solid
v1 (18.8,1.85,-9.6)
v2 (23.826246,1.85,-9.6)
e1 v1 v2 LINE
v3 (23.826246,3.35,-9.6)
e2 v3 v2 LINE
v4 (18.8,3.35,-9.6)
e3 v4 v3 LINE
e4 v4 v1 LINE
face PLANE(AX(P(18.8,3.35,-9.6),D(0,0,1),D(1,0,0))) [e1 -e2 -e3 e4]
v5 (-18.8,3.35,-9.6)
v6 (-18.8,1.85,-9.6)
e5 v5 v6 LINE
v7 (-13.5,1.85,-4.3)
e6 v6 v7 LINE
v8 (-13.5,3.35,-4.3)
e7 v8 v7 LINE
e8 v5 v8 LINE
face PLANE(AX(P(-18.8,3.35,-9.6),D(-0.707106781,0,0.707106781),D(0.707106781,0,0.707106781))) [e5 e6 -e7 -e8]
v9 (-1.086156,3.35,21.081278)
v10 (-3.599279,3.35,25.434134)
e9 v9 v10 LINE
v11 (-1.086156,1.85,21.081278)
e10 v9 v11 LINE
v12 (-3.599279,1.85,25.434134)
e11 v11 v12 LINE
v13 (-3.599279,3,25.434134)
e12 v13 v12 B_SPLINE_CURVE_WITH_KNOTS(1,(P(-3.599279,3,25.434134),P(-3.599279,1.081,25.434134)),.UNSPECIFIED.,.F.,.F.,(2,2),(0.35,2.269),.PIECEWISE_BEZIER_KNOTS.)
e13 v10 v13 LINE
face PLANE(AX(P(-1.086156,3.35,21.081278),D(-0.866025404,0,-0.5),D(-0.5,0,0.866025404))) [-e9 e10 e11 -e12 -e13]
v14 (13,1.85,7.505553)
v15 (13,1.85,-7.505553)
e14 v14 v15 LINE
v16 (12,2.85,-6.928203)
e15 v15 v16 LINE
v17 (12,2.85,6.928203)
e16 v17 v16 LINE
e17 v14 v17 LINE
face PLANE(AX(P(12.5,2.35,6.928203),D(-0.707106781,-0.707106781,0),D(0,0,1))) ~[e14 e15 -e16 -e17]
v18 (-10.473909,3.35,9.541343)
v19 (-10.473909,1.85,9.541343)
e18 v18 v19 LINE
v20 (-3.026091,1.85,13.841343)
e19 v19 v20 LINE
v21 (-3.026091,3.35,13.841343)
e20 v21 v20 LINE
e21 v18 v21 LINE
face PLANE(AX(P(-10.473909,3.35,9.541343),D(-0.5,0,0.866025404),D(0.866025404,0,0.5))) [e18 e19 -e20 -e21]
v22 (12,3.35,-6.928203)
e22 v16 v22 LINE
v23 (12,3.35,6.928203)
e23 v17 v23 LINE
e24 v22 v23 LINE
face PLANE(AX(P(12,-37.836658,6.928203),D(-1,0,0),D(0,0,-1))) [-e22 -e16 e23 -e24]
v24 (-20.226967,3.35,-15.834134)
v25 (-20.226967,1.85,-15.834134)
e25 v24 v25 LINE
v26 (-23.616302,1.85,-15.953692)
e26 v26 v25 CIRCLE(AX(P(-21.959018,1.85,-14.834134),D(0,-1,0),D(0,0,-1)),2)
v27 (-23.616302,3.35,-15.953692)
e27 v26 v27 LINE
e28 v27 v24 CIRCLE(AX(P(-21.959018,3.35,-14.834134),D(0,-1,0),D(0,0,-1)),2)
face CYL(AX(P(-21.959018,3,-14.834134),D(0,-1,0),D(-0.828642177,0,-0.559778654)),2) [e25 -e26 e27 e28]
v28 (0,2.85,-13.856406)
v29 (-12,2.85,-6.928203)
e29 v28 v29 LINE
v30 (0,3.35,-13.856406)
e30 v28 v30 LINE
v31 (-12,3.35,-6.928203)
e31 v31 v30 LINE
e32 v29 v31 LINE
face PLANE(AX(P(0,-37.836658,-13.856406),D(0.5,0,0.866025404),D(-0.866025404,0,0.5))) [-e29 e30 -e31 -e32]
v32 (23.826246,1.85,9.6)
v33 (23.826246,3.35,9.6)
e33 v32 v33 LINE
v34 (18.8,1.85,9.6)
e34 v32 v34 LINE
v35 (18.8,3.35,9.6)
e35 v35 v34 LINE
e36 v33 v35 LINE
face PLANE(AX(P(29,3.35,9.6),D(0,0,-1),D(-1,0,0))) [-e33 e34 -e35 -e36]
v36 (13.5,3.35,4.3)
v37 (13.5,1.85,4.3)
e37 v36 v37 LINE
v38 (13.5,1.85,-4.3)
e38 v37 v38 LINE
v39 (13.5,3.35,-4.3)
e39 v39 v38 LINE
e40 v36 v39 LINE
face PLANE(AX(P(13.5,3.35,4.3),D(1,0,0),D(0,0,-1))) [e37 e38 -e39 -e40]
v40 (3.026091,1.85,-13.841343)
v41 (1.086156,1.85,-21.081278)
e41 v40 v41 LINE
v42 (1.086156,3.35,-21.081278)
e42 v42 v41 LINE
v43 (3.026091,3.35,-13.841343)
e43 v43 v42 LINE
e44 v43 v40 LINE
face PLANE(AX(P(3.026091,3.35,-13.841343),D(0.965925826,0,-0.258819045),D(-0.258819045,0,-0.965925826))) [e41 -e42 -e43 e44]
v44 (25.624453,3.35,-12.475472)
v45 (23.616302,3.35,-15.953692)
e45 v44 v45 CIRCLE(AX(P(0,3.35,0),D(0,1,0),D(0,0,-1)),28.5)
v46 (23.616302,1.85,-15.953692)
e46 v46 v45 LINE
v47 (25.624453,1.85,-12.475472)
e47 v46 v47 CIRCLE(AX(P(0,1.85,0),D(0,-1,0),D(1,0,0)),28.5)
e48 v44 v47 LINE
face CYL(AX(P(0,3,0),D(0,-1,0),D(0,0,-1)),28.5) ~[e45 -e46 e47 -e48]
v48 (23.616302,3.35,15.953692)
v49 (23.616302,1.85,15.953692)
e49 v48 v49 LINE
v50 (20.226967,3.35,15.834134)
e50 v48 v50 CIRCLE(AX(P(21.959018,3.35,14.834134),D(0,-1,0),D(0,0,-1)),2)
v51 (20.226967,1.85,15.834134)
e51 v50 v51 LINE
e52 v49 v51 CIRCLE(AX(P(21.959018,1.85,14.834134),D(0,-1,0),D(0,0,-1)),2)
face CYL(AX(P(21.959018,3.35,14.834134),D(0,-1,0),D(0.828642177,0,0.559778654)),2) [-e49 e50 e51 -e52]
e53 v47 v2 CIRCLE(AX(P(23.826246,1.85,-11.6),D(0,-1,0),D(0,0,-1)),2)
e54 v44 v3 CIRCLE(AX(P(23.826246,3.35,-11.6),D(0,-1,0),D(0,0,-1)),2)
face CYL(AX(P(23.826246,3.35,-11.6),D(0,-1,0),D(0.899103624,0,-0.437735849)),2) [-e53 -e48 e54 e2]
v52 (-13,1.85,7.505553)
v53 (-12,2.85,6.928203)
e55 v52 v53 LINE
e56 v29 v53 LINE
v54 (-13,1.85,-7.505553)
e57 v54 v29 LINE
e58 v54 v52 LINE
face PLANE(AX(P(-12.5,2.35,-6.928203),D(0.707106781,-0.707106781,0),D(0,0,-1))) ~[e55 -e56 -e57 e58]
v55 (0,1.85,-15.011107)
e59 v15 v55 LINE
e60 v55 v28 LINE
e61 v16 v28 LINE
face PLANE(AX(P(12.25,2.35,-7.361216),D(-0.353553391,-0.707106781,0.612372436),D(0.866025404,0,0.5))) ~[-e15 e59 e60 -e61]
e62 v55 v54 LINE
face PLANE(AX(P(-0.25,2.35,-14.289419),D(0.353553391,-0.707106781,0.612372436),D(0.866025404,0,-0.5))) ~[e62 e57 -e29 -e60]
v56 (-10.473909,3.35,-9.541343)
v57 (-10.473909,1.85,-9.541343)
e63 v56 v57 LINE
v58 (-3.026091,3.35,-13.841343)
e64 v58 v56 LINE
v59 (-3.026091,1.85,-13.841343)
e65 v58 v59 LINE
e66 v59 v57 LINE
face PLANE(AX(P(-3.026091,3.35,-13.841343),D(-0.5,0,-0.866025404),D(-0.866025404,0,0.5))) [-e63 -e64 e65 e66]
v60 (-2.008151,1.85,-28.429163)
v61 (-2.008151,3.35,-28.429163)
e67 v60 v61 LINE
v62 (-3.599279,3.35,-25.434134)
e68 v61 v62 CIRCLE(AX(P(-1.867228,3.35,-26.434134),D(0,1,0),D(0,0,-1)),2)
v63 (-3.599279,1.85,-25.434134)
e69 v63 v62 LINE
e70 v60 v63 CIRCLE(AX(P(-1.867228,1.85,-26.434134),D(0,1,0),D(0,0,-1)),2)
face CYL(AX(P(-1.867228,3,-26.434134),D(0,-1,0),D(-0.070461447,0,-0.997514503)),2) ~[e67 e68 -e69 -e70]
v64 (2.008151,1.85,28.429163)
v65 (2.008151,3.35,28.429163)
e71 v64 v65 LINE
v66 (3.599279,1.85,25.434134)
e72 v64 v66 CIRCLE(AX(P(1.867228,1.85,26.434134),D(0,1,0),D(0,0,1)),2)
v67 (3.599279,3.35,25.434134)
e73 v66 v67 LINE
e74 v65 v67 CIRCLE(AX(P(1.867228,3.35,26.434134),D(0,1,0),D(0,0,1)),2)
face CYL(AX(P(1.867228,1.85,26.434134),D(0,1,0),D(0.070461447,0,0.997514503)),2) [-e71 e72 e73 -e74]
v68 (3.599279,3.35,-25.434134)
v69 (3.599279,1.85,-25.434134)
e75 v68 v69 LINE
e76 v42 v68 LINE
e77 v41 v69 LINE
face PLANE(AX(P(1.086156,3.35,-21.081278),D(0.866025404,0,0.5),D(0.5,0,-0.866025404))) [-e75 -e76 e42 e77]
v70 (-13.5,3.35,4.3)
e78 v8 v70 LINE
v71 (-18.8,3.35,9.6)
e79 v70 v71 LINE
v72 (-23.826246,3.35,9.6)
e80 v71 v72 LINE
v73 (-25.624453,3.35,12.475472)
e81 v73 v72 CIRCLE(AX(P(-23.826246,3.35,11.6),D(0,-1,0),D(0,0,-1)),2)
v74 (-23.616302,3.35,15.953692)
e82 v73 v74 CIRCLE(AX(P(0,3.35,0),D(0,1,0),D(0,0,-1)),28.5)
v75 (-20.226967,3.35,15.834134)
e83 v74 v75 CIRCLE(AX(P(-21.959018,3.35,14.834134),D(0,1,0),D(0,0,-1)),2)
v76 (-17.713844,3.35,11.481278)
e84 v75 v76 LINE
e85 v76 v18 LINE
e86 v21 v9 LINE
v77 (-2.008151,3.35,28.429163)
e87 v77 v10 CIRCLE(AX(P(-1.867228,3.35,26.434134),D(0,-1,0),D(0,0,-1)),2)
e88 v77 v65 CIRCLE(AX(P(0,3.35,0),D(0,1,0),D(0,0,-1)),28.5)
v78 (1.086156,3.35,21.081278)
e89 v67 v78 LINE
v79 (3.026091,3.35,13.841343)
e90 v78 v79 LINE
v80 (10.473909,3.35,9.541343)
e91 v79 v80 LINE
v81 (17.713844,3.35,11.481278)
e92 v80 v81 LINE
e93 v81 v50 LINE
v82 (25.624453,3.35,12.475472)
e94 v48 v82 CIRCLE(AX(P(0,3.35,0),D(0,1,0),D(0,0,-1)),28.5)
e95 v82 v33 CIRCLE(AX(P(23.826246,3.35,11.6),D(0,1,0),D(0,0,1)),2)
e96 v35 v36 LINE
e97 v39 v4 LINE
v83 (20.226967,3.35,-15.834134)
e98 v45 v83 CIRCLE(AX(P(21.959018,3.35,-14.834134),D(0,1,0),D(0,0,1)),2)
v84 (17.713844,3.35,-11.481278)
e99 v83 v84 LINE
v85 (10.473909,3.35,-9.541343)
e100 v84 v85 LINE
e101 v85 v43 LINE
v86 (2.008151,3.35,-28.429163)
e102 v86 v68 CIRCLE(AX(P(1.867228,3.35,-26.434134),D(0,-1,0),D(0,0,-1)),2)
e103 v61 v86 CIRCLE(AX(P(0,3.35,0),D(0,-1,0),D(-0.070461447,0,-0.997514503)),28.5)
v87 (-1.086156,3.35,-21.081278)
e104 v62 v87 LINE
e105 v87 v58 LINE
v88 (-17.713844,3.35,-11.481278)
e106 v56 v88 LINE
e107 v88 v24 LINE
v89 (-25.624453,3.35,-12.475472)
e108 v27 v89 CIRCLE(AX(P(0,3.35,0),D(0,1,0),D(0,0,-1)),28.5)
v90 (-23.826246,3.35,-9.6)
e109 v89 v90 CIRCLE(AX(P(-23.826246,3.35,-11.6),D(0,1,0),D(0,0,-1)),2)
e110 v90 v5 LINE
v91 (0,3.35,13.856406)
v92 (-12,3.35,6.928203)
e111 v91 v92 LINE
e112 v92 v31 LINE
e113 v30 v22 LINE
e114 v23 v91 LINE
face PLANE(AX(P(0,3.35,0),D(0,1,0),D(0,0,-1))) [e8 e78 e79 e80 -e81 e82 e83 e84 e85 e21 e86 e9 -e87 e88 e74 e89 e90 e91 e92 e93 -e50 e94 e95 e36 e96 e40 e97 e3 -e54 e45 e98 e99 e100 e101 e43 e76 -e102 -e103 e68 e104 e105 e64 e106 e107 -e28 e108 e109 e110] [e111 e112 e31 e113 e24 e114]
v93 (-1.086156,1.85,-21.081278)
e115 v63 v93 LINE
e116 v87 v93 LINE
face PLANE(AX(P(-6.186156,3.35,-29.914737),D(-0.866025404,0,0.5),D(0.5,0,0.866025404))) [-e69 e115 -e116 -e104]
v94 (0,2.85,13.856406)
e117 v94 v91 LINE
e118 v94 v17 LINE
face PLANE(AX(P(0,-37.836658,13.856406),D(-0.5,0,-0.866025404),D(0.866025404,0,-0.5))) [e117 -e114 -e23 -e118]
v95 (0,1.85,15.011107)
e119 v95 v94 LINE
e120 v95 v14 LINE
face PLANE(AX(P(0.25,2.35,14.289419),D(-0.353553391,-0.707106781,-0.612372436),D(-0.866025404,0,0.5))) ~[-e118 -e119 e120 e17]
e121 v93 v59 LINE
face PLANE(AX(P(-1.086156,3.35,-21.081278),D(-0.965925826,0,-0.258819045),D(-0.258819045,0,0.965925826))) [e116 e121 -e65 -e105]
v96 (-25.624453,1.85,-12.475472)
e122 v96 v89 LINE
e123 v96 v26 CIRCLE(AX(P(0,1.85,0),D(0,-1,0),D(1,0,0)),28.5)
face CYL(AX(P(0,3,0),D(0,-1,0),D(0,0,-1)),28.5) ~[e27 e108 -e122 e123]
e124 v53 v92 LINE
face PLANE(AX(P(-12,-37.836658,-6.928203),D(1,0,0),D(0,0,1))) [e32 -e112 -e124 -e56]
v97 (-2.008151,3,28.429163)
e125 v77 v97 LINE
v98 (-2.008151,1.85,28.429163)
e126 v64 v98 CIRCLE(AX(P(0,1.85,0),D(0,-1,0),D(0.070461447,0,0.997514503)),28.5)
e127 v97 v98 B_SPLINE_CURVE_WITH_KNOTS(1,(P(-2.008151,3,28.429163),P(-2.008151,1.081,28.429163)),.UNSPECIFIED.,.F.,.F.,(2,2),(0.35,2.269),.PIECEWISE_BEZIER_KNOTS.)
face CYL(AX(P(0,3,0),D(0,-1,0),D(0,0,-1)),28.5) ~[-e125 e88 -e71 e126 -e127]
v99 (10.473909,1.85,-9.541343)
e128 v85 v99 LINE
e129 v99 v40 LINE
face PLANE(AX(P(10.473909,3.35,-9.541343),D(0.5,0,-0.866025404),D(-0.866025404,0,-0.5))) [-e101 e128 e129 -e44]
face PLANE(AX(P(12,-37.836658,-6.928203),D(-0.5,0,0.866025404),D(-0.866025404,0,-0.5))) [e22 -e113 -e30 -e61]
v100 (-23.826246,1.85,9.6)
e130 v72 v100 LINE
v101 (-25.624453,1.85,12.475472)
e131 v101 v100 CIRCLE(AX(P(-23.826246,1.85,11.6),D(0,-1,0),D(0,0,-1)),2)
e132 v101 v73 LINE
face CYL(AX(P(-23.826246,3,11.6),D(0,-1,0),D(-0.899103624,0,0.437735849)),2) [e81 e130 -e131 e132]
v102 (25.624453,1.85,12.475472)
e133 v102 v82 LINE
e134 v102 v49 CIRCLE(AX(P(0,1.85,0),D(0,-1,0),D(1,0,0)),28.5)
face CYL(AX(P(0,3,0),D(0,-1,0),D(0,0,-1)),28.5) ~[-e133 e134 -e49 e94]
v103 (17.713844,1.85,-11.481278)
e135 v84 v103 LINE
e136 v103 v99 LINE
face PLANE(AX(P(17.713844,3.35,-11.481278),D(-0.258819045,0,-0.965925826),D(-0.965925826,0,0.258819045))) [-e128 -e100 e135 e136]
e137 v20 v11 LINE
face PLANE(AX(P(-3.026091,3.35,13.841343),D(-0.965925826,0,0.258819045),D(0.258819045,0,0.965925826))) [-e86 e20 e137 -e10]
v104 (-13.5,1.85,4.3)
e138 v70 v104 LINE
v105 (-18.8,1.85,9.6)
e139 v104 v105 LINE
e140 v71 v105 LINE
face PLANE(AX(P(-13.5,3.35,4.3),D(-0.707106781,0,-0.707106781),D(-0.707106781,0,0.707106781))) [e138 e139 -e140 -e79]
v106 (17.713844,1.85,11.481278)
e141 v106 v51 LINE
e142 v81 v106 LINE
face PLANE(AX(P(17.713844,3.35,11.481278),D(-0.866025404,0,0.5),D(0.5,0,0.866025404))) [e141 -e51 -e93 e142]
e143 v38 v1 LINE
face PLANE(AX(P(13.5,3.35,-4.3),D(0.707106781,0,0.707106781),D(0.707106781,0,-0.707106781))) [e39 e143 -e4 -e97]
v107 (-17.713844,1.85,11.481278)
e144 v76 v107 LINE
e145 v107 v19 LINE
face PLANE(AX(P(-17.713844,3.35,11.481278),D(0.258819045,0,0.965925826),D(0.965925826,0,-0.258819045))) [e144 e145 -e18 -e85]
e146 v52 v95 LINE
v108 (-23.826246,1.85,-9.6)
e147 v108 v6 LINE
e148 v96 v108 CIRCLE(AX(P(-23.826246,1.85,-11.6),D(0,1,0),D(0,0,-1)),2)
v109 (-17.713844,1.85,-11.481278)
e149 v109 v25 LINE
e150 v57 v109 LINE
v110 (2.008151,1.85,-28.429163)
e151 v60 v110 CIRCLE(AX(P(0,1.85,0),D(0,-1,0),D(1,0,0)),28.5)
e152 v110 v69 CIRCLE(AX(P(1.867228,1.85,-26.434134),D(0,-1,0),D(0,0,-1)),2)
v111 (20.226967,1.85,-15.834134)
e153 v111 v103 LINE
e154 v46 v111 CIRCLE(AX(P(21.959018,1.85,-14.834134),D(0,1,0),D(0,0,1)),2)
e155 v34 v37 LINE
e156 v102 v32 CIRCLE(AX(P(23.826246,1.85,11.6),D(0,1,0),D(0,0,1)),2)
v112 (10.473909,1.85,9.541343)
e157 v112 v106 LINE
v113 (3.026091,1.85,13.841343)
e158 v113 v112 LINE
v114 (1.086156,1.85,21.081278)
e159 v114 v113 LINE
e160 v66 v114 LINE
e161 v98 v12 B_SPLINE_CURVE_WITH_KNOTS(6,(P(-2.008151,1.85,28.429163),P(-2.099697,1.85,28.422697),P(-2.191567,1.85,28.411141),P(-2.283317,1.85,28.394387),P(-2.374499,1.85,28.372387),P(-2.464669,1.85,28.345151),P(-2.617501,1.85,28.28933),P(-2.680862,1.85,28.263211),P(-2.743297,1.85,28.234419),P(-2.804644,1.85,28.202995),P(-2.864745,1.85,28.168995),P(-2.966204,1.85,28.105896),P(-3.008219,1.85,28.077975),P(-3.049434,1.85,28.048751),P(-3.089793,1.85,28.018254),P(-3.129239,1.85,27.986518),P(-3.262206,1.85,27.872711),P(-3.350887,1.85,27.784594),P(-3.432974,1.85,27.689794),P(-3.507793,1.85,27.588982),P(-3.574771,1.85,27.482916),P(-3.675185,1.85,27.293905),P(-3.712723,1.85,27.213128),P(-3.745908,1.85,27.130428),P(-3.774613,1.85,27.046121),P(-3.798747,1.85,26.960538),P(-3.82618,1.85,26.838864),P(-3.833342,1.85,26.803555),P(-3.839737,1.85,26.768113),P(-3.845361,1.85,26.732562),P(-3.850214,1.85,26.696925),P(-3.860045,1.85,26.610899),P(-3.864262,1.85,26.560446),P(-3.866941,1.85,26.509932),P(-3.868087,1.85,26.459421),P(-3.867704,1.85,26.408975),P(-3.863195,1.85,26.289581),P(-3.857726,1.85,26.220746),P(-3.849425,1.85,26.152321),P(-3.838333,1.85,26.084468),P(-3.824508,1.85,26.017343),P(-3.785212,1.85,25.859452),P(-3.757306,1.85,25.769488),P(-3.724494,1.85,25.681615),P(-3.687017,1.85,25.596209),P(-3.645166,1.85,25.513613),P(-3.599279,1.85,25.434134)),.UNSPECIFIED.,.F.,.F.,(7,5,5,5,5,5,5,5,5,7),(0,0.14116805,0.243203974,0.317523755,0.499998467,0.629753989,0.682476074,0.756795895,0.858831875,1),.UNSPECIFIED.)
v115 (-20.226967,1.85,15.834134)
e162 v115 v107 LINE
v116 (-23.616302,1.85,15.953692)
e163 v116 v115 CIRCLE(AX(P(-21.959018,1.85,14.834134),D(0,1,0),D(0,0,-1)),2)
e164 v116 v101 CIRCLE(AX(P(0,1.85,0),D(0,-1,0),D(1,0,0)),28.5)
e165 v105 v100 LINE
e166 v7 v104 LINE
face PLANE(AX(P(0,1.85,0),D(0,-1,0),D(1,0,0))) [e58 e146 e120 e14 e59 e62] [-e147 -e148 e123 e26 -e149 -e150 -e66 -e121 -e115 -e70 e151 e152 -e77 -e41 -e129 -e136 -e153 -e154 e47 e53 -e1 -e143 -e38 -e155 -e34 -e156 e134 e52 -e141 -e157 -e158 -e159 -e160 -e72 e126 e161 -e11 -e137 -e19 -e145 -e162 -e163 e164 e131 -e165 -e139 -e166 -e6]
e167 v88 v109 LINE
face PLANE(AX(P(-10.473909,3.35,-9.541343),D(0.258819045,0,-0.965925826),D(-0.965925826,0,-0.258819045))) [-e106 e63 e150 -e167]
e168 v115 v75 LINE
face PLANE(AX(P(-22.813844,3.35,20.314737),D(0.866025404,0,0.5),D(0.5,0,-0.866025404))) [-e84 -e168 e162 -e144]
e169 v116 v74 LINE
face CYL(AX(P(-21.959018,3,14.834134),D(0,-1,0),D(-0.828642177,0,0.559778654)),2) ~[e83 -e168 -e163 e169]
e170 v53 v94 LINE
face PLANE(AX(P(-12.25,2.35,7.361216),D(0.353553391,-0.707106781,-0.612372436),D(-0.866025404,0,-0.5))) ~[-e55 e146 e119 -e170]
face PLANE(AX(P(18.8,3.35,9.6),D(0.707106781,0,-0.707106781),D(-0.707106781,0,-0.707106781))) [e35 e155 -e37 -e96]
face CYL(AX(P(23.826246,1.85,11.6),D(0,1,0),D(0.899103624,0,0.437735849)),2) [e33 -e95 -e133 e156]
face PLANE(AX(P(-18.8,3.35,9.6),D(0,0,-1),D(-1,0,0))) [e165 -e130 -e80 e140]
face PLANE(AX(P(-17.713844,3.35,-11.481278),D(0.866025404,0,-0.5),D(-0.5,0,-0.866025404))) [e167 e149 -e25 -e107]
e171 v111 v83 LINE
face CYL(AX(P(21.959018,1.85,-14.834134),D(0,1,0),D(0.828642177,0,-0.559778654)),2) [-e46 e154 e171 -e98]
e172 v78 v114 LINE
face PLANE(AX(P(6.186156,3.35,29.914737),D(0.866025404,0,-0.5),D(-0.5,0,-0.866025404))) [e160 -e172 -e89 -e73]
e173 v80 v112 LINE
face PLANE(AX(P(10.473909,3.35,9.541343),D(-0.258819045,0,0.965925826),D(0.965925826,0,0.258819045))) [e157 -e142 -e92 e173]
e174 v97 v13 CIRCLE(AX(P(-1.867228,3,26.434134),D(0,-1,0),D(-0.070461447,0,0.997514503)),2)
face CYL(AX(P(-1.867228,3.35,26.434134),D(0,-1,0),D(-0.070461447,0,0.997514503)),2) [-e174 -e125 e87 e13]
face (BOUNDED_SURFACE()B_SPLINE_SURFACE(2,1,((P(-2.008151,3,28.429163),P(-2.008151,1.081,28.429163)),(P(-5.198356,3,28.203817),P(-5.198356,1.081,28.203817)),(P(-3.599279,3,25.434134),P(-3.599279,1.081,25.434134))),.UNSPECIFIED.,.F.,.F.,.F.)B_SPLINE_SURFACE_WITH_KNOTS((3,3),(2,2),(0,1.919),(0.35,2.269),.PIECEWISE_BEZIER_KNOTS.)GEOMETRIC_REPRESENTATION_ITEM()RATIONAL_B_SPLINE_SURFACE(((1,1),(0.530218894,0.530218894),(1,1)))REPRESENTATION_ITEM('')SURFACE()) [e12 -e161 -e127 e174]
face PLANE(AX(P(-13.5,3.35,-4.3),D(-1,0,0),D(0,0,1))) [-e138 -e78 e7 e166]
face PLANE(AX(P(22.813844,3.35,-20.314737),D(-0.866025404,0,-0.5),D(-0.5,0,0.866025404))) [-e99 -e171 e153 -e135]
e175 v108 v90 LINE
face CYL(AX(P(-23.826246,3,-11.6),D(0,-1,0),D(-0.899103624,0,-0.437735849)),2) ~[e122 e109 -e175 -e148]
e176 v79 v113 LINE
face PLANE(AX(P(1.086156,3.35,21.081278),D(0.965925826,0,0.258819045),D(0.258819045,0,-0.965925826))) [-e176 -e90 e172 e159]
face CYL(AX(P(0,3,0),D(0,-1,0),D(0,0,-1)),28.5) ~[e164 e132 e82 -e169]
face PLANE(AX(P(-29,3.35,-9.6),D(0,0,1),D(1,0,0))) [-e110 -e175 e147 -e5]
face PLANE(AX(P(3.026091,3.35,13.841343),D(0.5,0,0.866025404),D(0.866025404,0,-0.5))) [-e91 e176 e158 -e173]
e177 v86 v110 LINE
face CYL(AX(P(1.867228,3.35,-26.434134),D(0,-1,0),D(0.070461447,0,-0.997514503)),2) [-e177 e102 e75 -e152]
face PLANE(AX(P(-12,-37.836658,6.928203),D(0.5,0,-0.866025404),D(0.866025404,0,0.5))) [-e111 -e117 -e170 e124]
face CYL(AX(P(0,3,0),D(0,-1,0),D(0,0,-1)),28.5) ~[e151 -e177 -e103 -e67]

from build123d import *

# Parameters (mm, degrees)
SKETCH1_R               = 28.5
SKETCH1_R_2             = 12.7
BOSS_EXTRUDE1_DEPTH     = 2
SKETCH2_R               = 28.5
BOSS_EXTRUDE2_DEPTH     = 1
SKETCH3_R               = 11
BOSS_EXTRUDE3_DEPTH     = 7
CUT_EXTRUDE1_DEPTH      = 42.527099586
CUT_EXTRUDE1_DEPTH_BACK = 42.527099586
SKETCH4_R               = 9.65
SKETCH5_R               = 11
SKETCH5_R_2             = 8
BOSS_EXTRUDE4_DEPTH     = 5
SKETCH6_R               = 12.7
SKETCH6_R_2             = 9.65
BOSS_EXTRUDE5_DEPTH     = 2
SKETCH13_R              = 28.5
CUT_EXTRUDE2_DEPTH      = 1
SKETCH12_W              = 2
SKETCH12_H              = 4
BOSS_EXTRUDE7_DEPTH     = 2
FILLET1_R               = 0.5
SKETCH14_R              = 28.5
SKETCH14_R_2            = 11
BOSS_EXTRUDE8_DEPTH     = 0.35
BOSS_EXTRUDE9_START     = 11.65
SKETCH15_R              = 9.65
BOSS_EXTRUDE9_DEPTH     = 11.65
CUT_EXTRUDE3_DEPTH      = 1.5
CHAMFER1_SIZE           = 1
FILLET2_R               = 2
SKETCH17_R              = 9.67
CUT_EXTRUDE4_DEPTH      = 9
CIRPATTERN1_COUNT       = 2
CIRPATTERN1_ANGLE       = 30
SKETCH18_W              = 2.800280384
SKETCH18_H              = 4.910480866
SKETCH18_W_2            = 2.857294562
SKETCH18_H_2            = 5.674760566
CUT_EXTRUDE5_DEPTH      = 10
SKETCH19_R              = 28.5
CUT_EXTRUDE6_DEPTH      = 0.85
FILLET3_R               = 0.5
SKETCH20_R              = 68.647150441
CUT_EXTRUDE7_DEPTH      = 0.7
CUT_EXTRUDE8_DEPTH      = 41.186658172
CUT_EXTRUDE8_DEPTH_BACK = 41.186658172
CUT_EXTRUDE9_START      = 10
CUT_EXTRUDE9_DEPTH      = 10
CHAMFER2_SIZE           = 1


with BuildPart() as part:
    # Sketch1 → Boss-Extrude1 (new body)
    with BuildSketch(Plane(origin=(0, 0, 0), x_dir=(1, 0, 0), z_dir=(0, 1, 0))):
        with Locations(Location((0, 0, 0), (0, 0, 270))):
            Circle(SKETCH1_R)
        with Locations(Location((0, 0, 0), (0, 0, 270))):
            Circle(SKETCH1_R_2, mode=Mode.SUBTRACT)
    extrude(amount=BOSS_EXTRUDE1_DEPTH)

    # Sketch2 → Boss-Extrude2 (add)
    with BuildSketch(Plane(origin=(0, 2, 0), x_dir=(1, 0, 0), z_dir=(0, 1, 0))):
        with Locations(Location((0, 0, 0), (0, 0, 270))):
            Circle(SKETCH2_R)
    extrude(amount=BOSS_EXTRUDE2_DEPTH)

    # Sketch3 → Boss-Extrude3 (add)
    with BuildSketch(Plane(origin=(0, 3, 0), x_dir=(1, 0, 0), z_dir=(0, 1, 0))):
        with Locations(Location((0, 0, 0), (0, 0, 270))):
            Circle(SKETCH3_R)
    extrude(amount=BOSS_EXTRUDE3_DEPTH)

    # Sketch4 → Cut-Extrude1 (cut, two sides: drawn at the far end of the back side and taken through both)
    with BuildSketch(Plane(origin=(0, 10, 0), x_dir=(1, 0, 0), z_dir=(0, 1, 0)).offset(-CUT_EXTRUDE1_DEPTH_BACK)):
        with Locations(Location((0, 0, 0), (0, 0, 270))):
            Circle(SKETCH4_R)
    extrude(amount=CUT_EXTRUDE1_DEPTH + CUT_EXTRUDE1_DEPTH_BACK, mode=Mode.SUBTRACT)

    # Sketch5 → Boss-Extrude4 (add)
    with BuildSketch(Plane(origin=(0, 10, 0), x_dir=(1, 0, 0), z_dir=(0, 1, 0))):
        with Locations(Location((0, 0, 0), (0, 0, 270))):
            Circle(SKETCH5_R)
        with Locations(Location((0, 0, 0), (0, 0, 270))):
            Circle(SKETCH5_R_2, mode=Mode.SUBTRACT)
    extrude(amount=BOSS_EXTRUDE4_DEPTH)

    # Sketch6 → Boss-Extrude5 (add)
    with BuildSketch(Plane.XZ.offset(-2)):
        Circle(SKETCH6_R)
        with Locations(Location((0, 0, 0), (0, 0, 90))):
            Circle(SKETCH6_R_2, mode=Mode.SUBTRACT)
    extrude(amount=BOSS_EXTRUDE5_DEPTH)

    # Sketch13 → Cut-Extrude2 (cut)
    with BuildSketch(Plane.XZ):
        with Locations(Location((0, 0, 0), (0, 0, 270))):
            Circle(SKETCH13_R)
    extrude(amount=-CUT_EXTRUDE2_DEPTH, mode=Mode.SUBTRACT)

    # Sketch12 → Boss-Extrude7 (add)
    with BuildSketch(Plane.XZ.offset(-1)):
        with Locations((25.5, 0)):
            Rectangle(SKETCH12_W, SKETCH12_H)
        with Locations((-25.5, 0)):
            Rectangle(SKETCH12_W, SKETCH12_H)
    boss_extrude7 = extrude(amount=BOSS_EXTRUDE7_DEPTH)

    # Fillet1
    fillet1_edges = [part.edges().sort_by_distance(p)[0] for p in [
        (24.5, 0, 2),
        (24.5, 0, -2),
        (26.5, 0, -2),
        (26.5, 0, 2),
        (-24.5, 0, -2),
        (-24.5, 0, 2),
        (-26.5, 0, 2),
        (-26.5, 0, -2),
    ]]
    fillet(fillet1_edges, radius=FILLET1_R)

    # Sketch14 → Boss-Extrude8 (add)
    with BuildSketch(Plane(origin=(0, 3, 0), x_dir=(1, 0, 0), z_dir=(0, 1, 0))):
        with Locations(Location((0, 0, 0), (0, 0, 90))):
            Circle(SKETCH14_R)
        with Locations(Location((0, 0, 0), (0, 0, 270))):
            Circle(SKETCH14_R_2, mode=Mode.SUBTRACT)
    extrude(amount=BOSS_EXTRUDE8_DEPTH)

    # Sketch15 → Boss-Extrude9 (add)
    with BuildSketch(Plane(origin=(0, 3.35, 0), x_dir=(1, 0, 0), z_dir=(0, 1, 0)).offset(BOSS_EXTRUDE9_START)):
        Polygon((0, -12.990381057), (11.25, -6.495190528), (11.25, 6.495190528), (0, 12.990381057), (-11.25, 6.495190528), (-11.25, -6.495190528), align=None)
        with Locations(Location((0, 0, 0), (0, 0, 270))):
            Circle(SKETCH15_R, mode=Mode.SUBTRACT)
    extrude(amount=-BOSS_EXTRUDE9_DEPTH)

    # Sketch16 → Cut-Extrude3 (cut)
    with BuildSketch(Plane(origin=(0, 3.35, 0), x_dir=(1, 0, 0), z_dir=(0, 1, 0))):
        Polygon((-6.186156124, -29.91473671), (-22.813843876, -20.31473671), (-17.713843876, -11.481277591), (-10.473909236, -9.541342951), (-3.026090764, -13.841342951), (-1.086156124, -21.081277591), align=None)
        Polygon((-13.5, -4.3), (-18.8, -9.6), (-29, -9.6), (-29, 9.6), (-18.8, 9.6), (-13.5, 4.3), align=None)
        Polygon((-10.473909236, 9.541342951), (-17.713843876, 11.481277591), (-22.813843876, 20.31473671), (-6.186156124, 29.91473671), (-1.086156124, 21.081277591), (-3.026090764, 13.841342951), align=None)
        Polygon((3.026090764, 13.841342951), (1.086156124, 21.081277591), (6.186156124, 29.91473671), (22.813843876, 20.31473671), (17.713843876, 11.481277591), (10.473909236, 9.541342951), align=None)
        Polygon((13.5, 4.3), (18.8, 9.6), (29, 9.6), (29, -9.6), (18.8, -9.6), (13.5, -4.3), align=None)
        Polygon((10.473909236, -9.541342951), (17.713843876, -11.481277591), (22.813843876, -20.31473671), (6.186156124, -29.91473671), (1.086156124, -21.081277591), (3.026090764, -13.841342951), align=None)
    extrude(amount=-CUT_EXTRUDE3_DEPTH, mode=Mode.SUBTRACT)

    # Chamfer1
    chamfer1_edges = [part.edges().sort_by_distance(p)[0] for p in [
        (0, 10, -8),
    ]]
    chamfer(chamfer1_edges, length=CHAMFER1_SIZE)

    # Fillet2
    fillet2_edges = [part.edges().sort_by_distance(p)[0] for p in [
        (-21.731090241, 2.425, 18.439352401),
        (-5.103402488, 2.425, 28.039352401),
        (21.731090241, 2.6, 18.439352401),
        (5.103402488, 2.6, 28.039352401),
        (5.103402488, 2.6, -28.039352401),
        (21.731090241, 2.6, -18.439352401),
        (26.834492729, 2.6, -9.6),
        (26.834492729, 2.6, 9.6),
        (-26.834492729, 2.425, 9.6),
        (-26.834492729, 2.425, -9.6),
        (-21.731090241, 2.425, -18.439352401),
        (-5.103402488, 2.425, -28.039352401),
    ]]
    fillet(fillet2_edges, radius=FILLET2_R)

    # Sketch17 → Cut-Extrude4 (cut)
    with BuildSketch(Plane.XZ.offset(-1)):
        with Locations(Location((0, 0, 0), (0, 0, 270))):
            Circle(SKETCH17_R)
    extrude(amount=-CUT_EXTRUDE4_DEPTH, mode=Mode.SUBTRACT)

    # CirPattern1: Boss-Extrude7 ×2 about axis
    cirpattern1_axis = Axis((0, 0, 0), (0, -1, 0))
    for i in range(1, CIRPATTERN1_COUNT):
        add(boss_extrude7.rotate(cirpattern1_axis, i * CIRPATTERN1_ANGLE / (CIRPATTERN1_COUNT - 1)))

    # Sketch18 → Cut-Extrude5 (cut)
    with BuildSketch(Plane.XZ.offset(-1)):
        with Locations((-25.5, 0)):
            Rectangle(SKETCH18_W, SKETCH18_H)
        with Locations((25.5, 0)):
            Rectangle(SKETCH18_W_2, SKETCH18_H_2)
    extrude(amount=CUT_EXTRUDE5_DEPTH, mode=Mode.SUBTRACT)

    # Sketch19 → Cut-Extrude6 (cut)
    with BuildSketch(Plane.XZ.offset(-1)):
        Circle(SKETCH19_R)
        Polygon((21.9496732, 14.982050808), (20.217622393, 13.982050808), (22.217622393, 10.517949192), (23.9496732, 11.517949192), align=None, mode=Mode.SUBTRACT)
        Polygon((-23.9496732, -11.517949192), (-21.9496732, -14.982050808), (-20.217622393, -13.982050808), (-22.217622393, -10.517949192), align=None, mode=Mode.SUBTRACT)
    extrude(amount=-CUT_EXTRUDE6_DEPTH, mode=Mode.SUBTRACT)

    # Fillet3
    fillet3_edges = [part.edges().sort_by_distance(p)[0] for p in [
        (20.217622393, 0.425, 13.982050808),
        (22.217622393, 0.425, 10.517949192),
        (23.9496732, 0.425, 11.517949192),
        (21.9496732, 0.425, 14.982050808),
        (-20.217622393, 0.425, -13.982050808),
        (-22.217622393, 0.425, -10.517949192),
        (-23.9496732, 0.425, -11.517949192),
        (-21.9496732, 0.425, -14.982050808),
    ]]
    fillet(fillet3_edges, radius=FILLET3_R)

    # Sketch20 → Cut-Extrude7 (cut)
    with BuildSketch(Plane.XZ.offset(1)):
        Circle(SKETCH20_R)
    extrude(amount=-CUT_EXTRUDE7_DEPTH, mode=Mode.SUBTRACT)

    # Sketch21 → Cut-Extrude8 (cut, two sides: drawn at the far end of the back side and taken through both)
    with BuildSketch(Plane(origin=(0, 3.35, 0), x_dir=(1, 0, 0), z_dir=(0, 1, 0)).offset(-CUT_EXTRUDE8_DEPTH_BACK)):
        Polygon((0, 13.856406461), (-12, 6.92820323), (-12, -6.92820323), (0, -13.856406461), (12, -6.92820323), (12, 6.92820323), align=None)
    extrude(amount=CUT_EXTRUDE8_DEPTH + CUT_EXTRUDE8_DEPTH_BACK, mode=Mode.SUBTRACT)

    # Sketch22 → Cut-Extrude9 (cut)
    with BuildSketch(Plane.XZ.offset(-1.85).offset(CUT_EXTRUDE9_START)):
        with BuildLine():
            Line((3.59927914, -25.434134341), (1.086156124, -21.081277591))
            Line((1.086156124, -21.081277591), (3.026090764, -13.841342951))
            Line((3.026090764, -13.841342951), (10.473909236, -9.541342951))
            Line((10.473909236, -9.541342951), (17.713843876, -11.481277591))
            Line((17.713843876, -11.481277591), (20.226966893, -15.834134341))
            ThreePointArc((20.226966893, -15.834134341), (21.88851243, -16.832891206), (23.616302055, -15.95369165))
            ThreePointArc((23.616302055, -15.95369165), (24.681724008, -14.25), (25.62445328, -12.475471698))
            ThreePointArc((25.62445328, -12.475471698), (25.521967619, -10.539562212), (23.826246032, -9.6))
            Line((23.826246032, -9.6), (18.8, -9.6))
            Line((18.8, -9.6), (13.5, -4.3))
            Line((13.5, -4.3), (13.5, 4.3))
            Line((13.5, 4.3), (18.8, 9.6))
            Line((18.8, 9.6), (23.826246032, 9.6))
            ThreePointArc((23.826246032, 9.6), (25.521967619, 10.539562212), (25.62445328, 12.475471698))
            ThreePointArc((25.62445328, 12.475471698), (24.681724008, 14.25), (23.616302055, 15.95369165))
            ThreePointArc((23.616302055, 15.95369165), (21.88851243, 16.832891206), (20.226966893, 15.834134341))
            Line((20.226966893, 15.834134341), (17.713843876, 11.481277591))
            Line((17.713843876, 11.481277591), (10.473909236, 9.541342951))
            Line((10.473909236, 9.541342951), (3.026090764, 13.841342951))
            Line((3.026090764, 13.841342951), (1.086156124, 21.081277591))
            Line((1.086156124, 21.081277591), (3.59927914, 25.434134341))
            ThreePointArc((3.59927914, 25.434134341), (3.633455189, 27.372453418), (2.008151225, 28.429163348))
            ThreePointArc((2.008151225, 28.429163348), (0, 28.5), (-2.008151225, 28.429163348))
            ThreePointArc((-2.008151225, 28.429163348), (-3.633455189, 27.372453418), (-3.59927914, 25.434134341))
            Line((-3.59927914, 25.434134341), (-1.086156124, 21.081277591))
            Line((-1.086156124, 21.081277591), (-3.026090764, 13.841342951))
            Line((-3.026090764, 13.841342951), (-10.473909236, 9.541342951))
            Line((-10.473909236, 9.541342951), (-17.713843876, 11.481277591))
            Line((-17.713843876, 11.481277591), (-20.226966893, 15.834134341))
            ThreePointArc((-20.226966893, 15.834134341), (-21.88851243, 16.832891206), (-23.616302055, 15.95369165))
            ThreePointArc((-23.616302055, 15.95369165), (-24.681724008, 14.25), (-25.62445328, 12.475471698))
            ThreePointArc((-25.62445328, 12.475471698), (-25.521967619, 10.539562212), (-23.826246032, 9.6))
            Line((-23.826246032, 9.6), (-18.8, 9.6))
            Line((-18.8, 9.6), (-13.5, 4.3))
            Line((-13.5, 4.3), (-13.5, -4.3))
            Line((-13.5, -4.3), (-18.8, -9.6))
            Line((-18.8, -9.6), (-23.826246032, -9.6))
            ThreePointArc((-23.826246032, -9.6), (-25.521967619, -10.539562212), (-25.62445328, -12.475471698))
            ThreePointArc((-25.62445328, -12.475471698), (-24.681724008, -14.25), (-23.616302055, -15.95369165))
            ThreePointArc((-23.616302055, -15.95369165), (-21.88851243, -16.832891206), (-20.226966893, -15.834134341))
            Line((-20.226966893, -15.834134341), (-17.713843876, -11.481277591))
            Line((-17.713843876, -11.481277591), (-10.473909236, -9.541342951))
            Line((-10.473909236, -9.541342951), (-3.026090764, -13.841342951))
            Line((-3.026090764, -13.841342951), (-1.086156124, -21.081277591))
            Line((-1.086156124, -21.081277591), (-3.59927914, -25.434134341))
            ThreePointArc((-3.59927914, -25.434134341), (-3.633455189, -27.372453418), (-2.008151225, -28.429163348))
            ThreePointArc((-2.008151225, -28.429163348), (0, -28.5), (2.008151225, -28.429163348))
            ThreePointArc((2.008151225, -28.429163348), (3.633455189, -27.372453418), (3.59927914, -25.434134341))
        make_face()
    extrude(amount=-CUT_EXTRUDE9_DEPTH, mode=Mode.SUBTRACT)

    # Chamfer2
    chamfer2_edges = [part.edges().sort_by_distance(p)[0] for p in [
        (-6, 1.85, -10.392304845),
        (-12, 1.85, 0),
        (-6, 1.85, 10.392304845),
        (6, 1.85, 10.392304845),
        (12, 1.85, 0),
        (6, 1.85, -10.392304845),
    ]]
    chamfer(chamfer2_edges, length=CHAMFER2_SIZE)


solid = part.part
